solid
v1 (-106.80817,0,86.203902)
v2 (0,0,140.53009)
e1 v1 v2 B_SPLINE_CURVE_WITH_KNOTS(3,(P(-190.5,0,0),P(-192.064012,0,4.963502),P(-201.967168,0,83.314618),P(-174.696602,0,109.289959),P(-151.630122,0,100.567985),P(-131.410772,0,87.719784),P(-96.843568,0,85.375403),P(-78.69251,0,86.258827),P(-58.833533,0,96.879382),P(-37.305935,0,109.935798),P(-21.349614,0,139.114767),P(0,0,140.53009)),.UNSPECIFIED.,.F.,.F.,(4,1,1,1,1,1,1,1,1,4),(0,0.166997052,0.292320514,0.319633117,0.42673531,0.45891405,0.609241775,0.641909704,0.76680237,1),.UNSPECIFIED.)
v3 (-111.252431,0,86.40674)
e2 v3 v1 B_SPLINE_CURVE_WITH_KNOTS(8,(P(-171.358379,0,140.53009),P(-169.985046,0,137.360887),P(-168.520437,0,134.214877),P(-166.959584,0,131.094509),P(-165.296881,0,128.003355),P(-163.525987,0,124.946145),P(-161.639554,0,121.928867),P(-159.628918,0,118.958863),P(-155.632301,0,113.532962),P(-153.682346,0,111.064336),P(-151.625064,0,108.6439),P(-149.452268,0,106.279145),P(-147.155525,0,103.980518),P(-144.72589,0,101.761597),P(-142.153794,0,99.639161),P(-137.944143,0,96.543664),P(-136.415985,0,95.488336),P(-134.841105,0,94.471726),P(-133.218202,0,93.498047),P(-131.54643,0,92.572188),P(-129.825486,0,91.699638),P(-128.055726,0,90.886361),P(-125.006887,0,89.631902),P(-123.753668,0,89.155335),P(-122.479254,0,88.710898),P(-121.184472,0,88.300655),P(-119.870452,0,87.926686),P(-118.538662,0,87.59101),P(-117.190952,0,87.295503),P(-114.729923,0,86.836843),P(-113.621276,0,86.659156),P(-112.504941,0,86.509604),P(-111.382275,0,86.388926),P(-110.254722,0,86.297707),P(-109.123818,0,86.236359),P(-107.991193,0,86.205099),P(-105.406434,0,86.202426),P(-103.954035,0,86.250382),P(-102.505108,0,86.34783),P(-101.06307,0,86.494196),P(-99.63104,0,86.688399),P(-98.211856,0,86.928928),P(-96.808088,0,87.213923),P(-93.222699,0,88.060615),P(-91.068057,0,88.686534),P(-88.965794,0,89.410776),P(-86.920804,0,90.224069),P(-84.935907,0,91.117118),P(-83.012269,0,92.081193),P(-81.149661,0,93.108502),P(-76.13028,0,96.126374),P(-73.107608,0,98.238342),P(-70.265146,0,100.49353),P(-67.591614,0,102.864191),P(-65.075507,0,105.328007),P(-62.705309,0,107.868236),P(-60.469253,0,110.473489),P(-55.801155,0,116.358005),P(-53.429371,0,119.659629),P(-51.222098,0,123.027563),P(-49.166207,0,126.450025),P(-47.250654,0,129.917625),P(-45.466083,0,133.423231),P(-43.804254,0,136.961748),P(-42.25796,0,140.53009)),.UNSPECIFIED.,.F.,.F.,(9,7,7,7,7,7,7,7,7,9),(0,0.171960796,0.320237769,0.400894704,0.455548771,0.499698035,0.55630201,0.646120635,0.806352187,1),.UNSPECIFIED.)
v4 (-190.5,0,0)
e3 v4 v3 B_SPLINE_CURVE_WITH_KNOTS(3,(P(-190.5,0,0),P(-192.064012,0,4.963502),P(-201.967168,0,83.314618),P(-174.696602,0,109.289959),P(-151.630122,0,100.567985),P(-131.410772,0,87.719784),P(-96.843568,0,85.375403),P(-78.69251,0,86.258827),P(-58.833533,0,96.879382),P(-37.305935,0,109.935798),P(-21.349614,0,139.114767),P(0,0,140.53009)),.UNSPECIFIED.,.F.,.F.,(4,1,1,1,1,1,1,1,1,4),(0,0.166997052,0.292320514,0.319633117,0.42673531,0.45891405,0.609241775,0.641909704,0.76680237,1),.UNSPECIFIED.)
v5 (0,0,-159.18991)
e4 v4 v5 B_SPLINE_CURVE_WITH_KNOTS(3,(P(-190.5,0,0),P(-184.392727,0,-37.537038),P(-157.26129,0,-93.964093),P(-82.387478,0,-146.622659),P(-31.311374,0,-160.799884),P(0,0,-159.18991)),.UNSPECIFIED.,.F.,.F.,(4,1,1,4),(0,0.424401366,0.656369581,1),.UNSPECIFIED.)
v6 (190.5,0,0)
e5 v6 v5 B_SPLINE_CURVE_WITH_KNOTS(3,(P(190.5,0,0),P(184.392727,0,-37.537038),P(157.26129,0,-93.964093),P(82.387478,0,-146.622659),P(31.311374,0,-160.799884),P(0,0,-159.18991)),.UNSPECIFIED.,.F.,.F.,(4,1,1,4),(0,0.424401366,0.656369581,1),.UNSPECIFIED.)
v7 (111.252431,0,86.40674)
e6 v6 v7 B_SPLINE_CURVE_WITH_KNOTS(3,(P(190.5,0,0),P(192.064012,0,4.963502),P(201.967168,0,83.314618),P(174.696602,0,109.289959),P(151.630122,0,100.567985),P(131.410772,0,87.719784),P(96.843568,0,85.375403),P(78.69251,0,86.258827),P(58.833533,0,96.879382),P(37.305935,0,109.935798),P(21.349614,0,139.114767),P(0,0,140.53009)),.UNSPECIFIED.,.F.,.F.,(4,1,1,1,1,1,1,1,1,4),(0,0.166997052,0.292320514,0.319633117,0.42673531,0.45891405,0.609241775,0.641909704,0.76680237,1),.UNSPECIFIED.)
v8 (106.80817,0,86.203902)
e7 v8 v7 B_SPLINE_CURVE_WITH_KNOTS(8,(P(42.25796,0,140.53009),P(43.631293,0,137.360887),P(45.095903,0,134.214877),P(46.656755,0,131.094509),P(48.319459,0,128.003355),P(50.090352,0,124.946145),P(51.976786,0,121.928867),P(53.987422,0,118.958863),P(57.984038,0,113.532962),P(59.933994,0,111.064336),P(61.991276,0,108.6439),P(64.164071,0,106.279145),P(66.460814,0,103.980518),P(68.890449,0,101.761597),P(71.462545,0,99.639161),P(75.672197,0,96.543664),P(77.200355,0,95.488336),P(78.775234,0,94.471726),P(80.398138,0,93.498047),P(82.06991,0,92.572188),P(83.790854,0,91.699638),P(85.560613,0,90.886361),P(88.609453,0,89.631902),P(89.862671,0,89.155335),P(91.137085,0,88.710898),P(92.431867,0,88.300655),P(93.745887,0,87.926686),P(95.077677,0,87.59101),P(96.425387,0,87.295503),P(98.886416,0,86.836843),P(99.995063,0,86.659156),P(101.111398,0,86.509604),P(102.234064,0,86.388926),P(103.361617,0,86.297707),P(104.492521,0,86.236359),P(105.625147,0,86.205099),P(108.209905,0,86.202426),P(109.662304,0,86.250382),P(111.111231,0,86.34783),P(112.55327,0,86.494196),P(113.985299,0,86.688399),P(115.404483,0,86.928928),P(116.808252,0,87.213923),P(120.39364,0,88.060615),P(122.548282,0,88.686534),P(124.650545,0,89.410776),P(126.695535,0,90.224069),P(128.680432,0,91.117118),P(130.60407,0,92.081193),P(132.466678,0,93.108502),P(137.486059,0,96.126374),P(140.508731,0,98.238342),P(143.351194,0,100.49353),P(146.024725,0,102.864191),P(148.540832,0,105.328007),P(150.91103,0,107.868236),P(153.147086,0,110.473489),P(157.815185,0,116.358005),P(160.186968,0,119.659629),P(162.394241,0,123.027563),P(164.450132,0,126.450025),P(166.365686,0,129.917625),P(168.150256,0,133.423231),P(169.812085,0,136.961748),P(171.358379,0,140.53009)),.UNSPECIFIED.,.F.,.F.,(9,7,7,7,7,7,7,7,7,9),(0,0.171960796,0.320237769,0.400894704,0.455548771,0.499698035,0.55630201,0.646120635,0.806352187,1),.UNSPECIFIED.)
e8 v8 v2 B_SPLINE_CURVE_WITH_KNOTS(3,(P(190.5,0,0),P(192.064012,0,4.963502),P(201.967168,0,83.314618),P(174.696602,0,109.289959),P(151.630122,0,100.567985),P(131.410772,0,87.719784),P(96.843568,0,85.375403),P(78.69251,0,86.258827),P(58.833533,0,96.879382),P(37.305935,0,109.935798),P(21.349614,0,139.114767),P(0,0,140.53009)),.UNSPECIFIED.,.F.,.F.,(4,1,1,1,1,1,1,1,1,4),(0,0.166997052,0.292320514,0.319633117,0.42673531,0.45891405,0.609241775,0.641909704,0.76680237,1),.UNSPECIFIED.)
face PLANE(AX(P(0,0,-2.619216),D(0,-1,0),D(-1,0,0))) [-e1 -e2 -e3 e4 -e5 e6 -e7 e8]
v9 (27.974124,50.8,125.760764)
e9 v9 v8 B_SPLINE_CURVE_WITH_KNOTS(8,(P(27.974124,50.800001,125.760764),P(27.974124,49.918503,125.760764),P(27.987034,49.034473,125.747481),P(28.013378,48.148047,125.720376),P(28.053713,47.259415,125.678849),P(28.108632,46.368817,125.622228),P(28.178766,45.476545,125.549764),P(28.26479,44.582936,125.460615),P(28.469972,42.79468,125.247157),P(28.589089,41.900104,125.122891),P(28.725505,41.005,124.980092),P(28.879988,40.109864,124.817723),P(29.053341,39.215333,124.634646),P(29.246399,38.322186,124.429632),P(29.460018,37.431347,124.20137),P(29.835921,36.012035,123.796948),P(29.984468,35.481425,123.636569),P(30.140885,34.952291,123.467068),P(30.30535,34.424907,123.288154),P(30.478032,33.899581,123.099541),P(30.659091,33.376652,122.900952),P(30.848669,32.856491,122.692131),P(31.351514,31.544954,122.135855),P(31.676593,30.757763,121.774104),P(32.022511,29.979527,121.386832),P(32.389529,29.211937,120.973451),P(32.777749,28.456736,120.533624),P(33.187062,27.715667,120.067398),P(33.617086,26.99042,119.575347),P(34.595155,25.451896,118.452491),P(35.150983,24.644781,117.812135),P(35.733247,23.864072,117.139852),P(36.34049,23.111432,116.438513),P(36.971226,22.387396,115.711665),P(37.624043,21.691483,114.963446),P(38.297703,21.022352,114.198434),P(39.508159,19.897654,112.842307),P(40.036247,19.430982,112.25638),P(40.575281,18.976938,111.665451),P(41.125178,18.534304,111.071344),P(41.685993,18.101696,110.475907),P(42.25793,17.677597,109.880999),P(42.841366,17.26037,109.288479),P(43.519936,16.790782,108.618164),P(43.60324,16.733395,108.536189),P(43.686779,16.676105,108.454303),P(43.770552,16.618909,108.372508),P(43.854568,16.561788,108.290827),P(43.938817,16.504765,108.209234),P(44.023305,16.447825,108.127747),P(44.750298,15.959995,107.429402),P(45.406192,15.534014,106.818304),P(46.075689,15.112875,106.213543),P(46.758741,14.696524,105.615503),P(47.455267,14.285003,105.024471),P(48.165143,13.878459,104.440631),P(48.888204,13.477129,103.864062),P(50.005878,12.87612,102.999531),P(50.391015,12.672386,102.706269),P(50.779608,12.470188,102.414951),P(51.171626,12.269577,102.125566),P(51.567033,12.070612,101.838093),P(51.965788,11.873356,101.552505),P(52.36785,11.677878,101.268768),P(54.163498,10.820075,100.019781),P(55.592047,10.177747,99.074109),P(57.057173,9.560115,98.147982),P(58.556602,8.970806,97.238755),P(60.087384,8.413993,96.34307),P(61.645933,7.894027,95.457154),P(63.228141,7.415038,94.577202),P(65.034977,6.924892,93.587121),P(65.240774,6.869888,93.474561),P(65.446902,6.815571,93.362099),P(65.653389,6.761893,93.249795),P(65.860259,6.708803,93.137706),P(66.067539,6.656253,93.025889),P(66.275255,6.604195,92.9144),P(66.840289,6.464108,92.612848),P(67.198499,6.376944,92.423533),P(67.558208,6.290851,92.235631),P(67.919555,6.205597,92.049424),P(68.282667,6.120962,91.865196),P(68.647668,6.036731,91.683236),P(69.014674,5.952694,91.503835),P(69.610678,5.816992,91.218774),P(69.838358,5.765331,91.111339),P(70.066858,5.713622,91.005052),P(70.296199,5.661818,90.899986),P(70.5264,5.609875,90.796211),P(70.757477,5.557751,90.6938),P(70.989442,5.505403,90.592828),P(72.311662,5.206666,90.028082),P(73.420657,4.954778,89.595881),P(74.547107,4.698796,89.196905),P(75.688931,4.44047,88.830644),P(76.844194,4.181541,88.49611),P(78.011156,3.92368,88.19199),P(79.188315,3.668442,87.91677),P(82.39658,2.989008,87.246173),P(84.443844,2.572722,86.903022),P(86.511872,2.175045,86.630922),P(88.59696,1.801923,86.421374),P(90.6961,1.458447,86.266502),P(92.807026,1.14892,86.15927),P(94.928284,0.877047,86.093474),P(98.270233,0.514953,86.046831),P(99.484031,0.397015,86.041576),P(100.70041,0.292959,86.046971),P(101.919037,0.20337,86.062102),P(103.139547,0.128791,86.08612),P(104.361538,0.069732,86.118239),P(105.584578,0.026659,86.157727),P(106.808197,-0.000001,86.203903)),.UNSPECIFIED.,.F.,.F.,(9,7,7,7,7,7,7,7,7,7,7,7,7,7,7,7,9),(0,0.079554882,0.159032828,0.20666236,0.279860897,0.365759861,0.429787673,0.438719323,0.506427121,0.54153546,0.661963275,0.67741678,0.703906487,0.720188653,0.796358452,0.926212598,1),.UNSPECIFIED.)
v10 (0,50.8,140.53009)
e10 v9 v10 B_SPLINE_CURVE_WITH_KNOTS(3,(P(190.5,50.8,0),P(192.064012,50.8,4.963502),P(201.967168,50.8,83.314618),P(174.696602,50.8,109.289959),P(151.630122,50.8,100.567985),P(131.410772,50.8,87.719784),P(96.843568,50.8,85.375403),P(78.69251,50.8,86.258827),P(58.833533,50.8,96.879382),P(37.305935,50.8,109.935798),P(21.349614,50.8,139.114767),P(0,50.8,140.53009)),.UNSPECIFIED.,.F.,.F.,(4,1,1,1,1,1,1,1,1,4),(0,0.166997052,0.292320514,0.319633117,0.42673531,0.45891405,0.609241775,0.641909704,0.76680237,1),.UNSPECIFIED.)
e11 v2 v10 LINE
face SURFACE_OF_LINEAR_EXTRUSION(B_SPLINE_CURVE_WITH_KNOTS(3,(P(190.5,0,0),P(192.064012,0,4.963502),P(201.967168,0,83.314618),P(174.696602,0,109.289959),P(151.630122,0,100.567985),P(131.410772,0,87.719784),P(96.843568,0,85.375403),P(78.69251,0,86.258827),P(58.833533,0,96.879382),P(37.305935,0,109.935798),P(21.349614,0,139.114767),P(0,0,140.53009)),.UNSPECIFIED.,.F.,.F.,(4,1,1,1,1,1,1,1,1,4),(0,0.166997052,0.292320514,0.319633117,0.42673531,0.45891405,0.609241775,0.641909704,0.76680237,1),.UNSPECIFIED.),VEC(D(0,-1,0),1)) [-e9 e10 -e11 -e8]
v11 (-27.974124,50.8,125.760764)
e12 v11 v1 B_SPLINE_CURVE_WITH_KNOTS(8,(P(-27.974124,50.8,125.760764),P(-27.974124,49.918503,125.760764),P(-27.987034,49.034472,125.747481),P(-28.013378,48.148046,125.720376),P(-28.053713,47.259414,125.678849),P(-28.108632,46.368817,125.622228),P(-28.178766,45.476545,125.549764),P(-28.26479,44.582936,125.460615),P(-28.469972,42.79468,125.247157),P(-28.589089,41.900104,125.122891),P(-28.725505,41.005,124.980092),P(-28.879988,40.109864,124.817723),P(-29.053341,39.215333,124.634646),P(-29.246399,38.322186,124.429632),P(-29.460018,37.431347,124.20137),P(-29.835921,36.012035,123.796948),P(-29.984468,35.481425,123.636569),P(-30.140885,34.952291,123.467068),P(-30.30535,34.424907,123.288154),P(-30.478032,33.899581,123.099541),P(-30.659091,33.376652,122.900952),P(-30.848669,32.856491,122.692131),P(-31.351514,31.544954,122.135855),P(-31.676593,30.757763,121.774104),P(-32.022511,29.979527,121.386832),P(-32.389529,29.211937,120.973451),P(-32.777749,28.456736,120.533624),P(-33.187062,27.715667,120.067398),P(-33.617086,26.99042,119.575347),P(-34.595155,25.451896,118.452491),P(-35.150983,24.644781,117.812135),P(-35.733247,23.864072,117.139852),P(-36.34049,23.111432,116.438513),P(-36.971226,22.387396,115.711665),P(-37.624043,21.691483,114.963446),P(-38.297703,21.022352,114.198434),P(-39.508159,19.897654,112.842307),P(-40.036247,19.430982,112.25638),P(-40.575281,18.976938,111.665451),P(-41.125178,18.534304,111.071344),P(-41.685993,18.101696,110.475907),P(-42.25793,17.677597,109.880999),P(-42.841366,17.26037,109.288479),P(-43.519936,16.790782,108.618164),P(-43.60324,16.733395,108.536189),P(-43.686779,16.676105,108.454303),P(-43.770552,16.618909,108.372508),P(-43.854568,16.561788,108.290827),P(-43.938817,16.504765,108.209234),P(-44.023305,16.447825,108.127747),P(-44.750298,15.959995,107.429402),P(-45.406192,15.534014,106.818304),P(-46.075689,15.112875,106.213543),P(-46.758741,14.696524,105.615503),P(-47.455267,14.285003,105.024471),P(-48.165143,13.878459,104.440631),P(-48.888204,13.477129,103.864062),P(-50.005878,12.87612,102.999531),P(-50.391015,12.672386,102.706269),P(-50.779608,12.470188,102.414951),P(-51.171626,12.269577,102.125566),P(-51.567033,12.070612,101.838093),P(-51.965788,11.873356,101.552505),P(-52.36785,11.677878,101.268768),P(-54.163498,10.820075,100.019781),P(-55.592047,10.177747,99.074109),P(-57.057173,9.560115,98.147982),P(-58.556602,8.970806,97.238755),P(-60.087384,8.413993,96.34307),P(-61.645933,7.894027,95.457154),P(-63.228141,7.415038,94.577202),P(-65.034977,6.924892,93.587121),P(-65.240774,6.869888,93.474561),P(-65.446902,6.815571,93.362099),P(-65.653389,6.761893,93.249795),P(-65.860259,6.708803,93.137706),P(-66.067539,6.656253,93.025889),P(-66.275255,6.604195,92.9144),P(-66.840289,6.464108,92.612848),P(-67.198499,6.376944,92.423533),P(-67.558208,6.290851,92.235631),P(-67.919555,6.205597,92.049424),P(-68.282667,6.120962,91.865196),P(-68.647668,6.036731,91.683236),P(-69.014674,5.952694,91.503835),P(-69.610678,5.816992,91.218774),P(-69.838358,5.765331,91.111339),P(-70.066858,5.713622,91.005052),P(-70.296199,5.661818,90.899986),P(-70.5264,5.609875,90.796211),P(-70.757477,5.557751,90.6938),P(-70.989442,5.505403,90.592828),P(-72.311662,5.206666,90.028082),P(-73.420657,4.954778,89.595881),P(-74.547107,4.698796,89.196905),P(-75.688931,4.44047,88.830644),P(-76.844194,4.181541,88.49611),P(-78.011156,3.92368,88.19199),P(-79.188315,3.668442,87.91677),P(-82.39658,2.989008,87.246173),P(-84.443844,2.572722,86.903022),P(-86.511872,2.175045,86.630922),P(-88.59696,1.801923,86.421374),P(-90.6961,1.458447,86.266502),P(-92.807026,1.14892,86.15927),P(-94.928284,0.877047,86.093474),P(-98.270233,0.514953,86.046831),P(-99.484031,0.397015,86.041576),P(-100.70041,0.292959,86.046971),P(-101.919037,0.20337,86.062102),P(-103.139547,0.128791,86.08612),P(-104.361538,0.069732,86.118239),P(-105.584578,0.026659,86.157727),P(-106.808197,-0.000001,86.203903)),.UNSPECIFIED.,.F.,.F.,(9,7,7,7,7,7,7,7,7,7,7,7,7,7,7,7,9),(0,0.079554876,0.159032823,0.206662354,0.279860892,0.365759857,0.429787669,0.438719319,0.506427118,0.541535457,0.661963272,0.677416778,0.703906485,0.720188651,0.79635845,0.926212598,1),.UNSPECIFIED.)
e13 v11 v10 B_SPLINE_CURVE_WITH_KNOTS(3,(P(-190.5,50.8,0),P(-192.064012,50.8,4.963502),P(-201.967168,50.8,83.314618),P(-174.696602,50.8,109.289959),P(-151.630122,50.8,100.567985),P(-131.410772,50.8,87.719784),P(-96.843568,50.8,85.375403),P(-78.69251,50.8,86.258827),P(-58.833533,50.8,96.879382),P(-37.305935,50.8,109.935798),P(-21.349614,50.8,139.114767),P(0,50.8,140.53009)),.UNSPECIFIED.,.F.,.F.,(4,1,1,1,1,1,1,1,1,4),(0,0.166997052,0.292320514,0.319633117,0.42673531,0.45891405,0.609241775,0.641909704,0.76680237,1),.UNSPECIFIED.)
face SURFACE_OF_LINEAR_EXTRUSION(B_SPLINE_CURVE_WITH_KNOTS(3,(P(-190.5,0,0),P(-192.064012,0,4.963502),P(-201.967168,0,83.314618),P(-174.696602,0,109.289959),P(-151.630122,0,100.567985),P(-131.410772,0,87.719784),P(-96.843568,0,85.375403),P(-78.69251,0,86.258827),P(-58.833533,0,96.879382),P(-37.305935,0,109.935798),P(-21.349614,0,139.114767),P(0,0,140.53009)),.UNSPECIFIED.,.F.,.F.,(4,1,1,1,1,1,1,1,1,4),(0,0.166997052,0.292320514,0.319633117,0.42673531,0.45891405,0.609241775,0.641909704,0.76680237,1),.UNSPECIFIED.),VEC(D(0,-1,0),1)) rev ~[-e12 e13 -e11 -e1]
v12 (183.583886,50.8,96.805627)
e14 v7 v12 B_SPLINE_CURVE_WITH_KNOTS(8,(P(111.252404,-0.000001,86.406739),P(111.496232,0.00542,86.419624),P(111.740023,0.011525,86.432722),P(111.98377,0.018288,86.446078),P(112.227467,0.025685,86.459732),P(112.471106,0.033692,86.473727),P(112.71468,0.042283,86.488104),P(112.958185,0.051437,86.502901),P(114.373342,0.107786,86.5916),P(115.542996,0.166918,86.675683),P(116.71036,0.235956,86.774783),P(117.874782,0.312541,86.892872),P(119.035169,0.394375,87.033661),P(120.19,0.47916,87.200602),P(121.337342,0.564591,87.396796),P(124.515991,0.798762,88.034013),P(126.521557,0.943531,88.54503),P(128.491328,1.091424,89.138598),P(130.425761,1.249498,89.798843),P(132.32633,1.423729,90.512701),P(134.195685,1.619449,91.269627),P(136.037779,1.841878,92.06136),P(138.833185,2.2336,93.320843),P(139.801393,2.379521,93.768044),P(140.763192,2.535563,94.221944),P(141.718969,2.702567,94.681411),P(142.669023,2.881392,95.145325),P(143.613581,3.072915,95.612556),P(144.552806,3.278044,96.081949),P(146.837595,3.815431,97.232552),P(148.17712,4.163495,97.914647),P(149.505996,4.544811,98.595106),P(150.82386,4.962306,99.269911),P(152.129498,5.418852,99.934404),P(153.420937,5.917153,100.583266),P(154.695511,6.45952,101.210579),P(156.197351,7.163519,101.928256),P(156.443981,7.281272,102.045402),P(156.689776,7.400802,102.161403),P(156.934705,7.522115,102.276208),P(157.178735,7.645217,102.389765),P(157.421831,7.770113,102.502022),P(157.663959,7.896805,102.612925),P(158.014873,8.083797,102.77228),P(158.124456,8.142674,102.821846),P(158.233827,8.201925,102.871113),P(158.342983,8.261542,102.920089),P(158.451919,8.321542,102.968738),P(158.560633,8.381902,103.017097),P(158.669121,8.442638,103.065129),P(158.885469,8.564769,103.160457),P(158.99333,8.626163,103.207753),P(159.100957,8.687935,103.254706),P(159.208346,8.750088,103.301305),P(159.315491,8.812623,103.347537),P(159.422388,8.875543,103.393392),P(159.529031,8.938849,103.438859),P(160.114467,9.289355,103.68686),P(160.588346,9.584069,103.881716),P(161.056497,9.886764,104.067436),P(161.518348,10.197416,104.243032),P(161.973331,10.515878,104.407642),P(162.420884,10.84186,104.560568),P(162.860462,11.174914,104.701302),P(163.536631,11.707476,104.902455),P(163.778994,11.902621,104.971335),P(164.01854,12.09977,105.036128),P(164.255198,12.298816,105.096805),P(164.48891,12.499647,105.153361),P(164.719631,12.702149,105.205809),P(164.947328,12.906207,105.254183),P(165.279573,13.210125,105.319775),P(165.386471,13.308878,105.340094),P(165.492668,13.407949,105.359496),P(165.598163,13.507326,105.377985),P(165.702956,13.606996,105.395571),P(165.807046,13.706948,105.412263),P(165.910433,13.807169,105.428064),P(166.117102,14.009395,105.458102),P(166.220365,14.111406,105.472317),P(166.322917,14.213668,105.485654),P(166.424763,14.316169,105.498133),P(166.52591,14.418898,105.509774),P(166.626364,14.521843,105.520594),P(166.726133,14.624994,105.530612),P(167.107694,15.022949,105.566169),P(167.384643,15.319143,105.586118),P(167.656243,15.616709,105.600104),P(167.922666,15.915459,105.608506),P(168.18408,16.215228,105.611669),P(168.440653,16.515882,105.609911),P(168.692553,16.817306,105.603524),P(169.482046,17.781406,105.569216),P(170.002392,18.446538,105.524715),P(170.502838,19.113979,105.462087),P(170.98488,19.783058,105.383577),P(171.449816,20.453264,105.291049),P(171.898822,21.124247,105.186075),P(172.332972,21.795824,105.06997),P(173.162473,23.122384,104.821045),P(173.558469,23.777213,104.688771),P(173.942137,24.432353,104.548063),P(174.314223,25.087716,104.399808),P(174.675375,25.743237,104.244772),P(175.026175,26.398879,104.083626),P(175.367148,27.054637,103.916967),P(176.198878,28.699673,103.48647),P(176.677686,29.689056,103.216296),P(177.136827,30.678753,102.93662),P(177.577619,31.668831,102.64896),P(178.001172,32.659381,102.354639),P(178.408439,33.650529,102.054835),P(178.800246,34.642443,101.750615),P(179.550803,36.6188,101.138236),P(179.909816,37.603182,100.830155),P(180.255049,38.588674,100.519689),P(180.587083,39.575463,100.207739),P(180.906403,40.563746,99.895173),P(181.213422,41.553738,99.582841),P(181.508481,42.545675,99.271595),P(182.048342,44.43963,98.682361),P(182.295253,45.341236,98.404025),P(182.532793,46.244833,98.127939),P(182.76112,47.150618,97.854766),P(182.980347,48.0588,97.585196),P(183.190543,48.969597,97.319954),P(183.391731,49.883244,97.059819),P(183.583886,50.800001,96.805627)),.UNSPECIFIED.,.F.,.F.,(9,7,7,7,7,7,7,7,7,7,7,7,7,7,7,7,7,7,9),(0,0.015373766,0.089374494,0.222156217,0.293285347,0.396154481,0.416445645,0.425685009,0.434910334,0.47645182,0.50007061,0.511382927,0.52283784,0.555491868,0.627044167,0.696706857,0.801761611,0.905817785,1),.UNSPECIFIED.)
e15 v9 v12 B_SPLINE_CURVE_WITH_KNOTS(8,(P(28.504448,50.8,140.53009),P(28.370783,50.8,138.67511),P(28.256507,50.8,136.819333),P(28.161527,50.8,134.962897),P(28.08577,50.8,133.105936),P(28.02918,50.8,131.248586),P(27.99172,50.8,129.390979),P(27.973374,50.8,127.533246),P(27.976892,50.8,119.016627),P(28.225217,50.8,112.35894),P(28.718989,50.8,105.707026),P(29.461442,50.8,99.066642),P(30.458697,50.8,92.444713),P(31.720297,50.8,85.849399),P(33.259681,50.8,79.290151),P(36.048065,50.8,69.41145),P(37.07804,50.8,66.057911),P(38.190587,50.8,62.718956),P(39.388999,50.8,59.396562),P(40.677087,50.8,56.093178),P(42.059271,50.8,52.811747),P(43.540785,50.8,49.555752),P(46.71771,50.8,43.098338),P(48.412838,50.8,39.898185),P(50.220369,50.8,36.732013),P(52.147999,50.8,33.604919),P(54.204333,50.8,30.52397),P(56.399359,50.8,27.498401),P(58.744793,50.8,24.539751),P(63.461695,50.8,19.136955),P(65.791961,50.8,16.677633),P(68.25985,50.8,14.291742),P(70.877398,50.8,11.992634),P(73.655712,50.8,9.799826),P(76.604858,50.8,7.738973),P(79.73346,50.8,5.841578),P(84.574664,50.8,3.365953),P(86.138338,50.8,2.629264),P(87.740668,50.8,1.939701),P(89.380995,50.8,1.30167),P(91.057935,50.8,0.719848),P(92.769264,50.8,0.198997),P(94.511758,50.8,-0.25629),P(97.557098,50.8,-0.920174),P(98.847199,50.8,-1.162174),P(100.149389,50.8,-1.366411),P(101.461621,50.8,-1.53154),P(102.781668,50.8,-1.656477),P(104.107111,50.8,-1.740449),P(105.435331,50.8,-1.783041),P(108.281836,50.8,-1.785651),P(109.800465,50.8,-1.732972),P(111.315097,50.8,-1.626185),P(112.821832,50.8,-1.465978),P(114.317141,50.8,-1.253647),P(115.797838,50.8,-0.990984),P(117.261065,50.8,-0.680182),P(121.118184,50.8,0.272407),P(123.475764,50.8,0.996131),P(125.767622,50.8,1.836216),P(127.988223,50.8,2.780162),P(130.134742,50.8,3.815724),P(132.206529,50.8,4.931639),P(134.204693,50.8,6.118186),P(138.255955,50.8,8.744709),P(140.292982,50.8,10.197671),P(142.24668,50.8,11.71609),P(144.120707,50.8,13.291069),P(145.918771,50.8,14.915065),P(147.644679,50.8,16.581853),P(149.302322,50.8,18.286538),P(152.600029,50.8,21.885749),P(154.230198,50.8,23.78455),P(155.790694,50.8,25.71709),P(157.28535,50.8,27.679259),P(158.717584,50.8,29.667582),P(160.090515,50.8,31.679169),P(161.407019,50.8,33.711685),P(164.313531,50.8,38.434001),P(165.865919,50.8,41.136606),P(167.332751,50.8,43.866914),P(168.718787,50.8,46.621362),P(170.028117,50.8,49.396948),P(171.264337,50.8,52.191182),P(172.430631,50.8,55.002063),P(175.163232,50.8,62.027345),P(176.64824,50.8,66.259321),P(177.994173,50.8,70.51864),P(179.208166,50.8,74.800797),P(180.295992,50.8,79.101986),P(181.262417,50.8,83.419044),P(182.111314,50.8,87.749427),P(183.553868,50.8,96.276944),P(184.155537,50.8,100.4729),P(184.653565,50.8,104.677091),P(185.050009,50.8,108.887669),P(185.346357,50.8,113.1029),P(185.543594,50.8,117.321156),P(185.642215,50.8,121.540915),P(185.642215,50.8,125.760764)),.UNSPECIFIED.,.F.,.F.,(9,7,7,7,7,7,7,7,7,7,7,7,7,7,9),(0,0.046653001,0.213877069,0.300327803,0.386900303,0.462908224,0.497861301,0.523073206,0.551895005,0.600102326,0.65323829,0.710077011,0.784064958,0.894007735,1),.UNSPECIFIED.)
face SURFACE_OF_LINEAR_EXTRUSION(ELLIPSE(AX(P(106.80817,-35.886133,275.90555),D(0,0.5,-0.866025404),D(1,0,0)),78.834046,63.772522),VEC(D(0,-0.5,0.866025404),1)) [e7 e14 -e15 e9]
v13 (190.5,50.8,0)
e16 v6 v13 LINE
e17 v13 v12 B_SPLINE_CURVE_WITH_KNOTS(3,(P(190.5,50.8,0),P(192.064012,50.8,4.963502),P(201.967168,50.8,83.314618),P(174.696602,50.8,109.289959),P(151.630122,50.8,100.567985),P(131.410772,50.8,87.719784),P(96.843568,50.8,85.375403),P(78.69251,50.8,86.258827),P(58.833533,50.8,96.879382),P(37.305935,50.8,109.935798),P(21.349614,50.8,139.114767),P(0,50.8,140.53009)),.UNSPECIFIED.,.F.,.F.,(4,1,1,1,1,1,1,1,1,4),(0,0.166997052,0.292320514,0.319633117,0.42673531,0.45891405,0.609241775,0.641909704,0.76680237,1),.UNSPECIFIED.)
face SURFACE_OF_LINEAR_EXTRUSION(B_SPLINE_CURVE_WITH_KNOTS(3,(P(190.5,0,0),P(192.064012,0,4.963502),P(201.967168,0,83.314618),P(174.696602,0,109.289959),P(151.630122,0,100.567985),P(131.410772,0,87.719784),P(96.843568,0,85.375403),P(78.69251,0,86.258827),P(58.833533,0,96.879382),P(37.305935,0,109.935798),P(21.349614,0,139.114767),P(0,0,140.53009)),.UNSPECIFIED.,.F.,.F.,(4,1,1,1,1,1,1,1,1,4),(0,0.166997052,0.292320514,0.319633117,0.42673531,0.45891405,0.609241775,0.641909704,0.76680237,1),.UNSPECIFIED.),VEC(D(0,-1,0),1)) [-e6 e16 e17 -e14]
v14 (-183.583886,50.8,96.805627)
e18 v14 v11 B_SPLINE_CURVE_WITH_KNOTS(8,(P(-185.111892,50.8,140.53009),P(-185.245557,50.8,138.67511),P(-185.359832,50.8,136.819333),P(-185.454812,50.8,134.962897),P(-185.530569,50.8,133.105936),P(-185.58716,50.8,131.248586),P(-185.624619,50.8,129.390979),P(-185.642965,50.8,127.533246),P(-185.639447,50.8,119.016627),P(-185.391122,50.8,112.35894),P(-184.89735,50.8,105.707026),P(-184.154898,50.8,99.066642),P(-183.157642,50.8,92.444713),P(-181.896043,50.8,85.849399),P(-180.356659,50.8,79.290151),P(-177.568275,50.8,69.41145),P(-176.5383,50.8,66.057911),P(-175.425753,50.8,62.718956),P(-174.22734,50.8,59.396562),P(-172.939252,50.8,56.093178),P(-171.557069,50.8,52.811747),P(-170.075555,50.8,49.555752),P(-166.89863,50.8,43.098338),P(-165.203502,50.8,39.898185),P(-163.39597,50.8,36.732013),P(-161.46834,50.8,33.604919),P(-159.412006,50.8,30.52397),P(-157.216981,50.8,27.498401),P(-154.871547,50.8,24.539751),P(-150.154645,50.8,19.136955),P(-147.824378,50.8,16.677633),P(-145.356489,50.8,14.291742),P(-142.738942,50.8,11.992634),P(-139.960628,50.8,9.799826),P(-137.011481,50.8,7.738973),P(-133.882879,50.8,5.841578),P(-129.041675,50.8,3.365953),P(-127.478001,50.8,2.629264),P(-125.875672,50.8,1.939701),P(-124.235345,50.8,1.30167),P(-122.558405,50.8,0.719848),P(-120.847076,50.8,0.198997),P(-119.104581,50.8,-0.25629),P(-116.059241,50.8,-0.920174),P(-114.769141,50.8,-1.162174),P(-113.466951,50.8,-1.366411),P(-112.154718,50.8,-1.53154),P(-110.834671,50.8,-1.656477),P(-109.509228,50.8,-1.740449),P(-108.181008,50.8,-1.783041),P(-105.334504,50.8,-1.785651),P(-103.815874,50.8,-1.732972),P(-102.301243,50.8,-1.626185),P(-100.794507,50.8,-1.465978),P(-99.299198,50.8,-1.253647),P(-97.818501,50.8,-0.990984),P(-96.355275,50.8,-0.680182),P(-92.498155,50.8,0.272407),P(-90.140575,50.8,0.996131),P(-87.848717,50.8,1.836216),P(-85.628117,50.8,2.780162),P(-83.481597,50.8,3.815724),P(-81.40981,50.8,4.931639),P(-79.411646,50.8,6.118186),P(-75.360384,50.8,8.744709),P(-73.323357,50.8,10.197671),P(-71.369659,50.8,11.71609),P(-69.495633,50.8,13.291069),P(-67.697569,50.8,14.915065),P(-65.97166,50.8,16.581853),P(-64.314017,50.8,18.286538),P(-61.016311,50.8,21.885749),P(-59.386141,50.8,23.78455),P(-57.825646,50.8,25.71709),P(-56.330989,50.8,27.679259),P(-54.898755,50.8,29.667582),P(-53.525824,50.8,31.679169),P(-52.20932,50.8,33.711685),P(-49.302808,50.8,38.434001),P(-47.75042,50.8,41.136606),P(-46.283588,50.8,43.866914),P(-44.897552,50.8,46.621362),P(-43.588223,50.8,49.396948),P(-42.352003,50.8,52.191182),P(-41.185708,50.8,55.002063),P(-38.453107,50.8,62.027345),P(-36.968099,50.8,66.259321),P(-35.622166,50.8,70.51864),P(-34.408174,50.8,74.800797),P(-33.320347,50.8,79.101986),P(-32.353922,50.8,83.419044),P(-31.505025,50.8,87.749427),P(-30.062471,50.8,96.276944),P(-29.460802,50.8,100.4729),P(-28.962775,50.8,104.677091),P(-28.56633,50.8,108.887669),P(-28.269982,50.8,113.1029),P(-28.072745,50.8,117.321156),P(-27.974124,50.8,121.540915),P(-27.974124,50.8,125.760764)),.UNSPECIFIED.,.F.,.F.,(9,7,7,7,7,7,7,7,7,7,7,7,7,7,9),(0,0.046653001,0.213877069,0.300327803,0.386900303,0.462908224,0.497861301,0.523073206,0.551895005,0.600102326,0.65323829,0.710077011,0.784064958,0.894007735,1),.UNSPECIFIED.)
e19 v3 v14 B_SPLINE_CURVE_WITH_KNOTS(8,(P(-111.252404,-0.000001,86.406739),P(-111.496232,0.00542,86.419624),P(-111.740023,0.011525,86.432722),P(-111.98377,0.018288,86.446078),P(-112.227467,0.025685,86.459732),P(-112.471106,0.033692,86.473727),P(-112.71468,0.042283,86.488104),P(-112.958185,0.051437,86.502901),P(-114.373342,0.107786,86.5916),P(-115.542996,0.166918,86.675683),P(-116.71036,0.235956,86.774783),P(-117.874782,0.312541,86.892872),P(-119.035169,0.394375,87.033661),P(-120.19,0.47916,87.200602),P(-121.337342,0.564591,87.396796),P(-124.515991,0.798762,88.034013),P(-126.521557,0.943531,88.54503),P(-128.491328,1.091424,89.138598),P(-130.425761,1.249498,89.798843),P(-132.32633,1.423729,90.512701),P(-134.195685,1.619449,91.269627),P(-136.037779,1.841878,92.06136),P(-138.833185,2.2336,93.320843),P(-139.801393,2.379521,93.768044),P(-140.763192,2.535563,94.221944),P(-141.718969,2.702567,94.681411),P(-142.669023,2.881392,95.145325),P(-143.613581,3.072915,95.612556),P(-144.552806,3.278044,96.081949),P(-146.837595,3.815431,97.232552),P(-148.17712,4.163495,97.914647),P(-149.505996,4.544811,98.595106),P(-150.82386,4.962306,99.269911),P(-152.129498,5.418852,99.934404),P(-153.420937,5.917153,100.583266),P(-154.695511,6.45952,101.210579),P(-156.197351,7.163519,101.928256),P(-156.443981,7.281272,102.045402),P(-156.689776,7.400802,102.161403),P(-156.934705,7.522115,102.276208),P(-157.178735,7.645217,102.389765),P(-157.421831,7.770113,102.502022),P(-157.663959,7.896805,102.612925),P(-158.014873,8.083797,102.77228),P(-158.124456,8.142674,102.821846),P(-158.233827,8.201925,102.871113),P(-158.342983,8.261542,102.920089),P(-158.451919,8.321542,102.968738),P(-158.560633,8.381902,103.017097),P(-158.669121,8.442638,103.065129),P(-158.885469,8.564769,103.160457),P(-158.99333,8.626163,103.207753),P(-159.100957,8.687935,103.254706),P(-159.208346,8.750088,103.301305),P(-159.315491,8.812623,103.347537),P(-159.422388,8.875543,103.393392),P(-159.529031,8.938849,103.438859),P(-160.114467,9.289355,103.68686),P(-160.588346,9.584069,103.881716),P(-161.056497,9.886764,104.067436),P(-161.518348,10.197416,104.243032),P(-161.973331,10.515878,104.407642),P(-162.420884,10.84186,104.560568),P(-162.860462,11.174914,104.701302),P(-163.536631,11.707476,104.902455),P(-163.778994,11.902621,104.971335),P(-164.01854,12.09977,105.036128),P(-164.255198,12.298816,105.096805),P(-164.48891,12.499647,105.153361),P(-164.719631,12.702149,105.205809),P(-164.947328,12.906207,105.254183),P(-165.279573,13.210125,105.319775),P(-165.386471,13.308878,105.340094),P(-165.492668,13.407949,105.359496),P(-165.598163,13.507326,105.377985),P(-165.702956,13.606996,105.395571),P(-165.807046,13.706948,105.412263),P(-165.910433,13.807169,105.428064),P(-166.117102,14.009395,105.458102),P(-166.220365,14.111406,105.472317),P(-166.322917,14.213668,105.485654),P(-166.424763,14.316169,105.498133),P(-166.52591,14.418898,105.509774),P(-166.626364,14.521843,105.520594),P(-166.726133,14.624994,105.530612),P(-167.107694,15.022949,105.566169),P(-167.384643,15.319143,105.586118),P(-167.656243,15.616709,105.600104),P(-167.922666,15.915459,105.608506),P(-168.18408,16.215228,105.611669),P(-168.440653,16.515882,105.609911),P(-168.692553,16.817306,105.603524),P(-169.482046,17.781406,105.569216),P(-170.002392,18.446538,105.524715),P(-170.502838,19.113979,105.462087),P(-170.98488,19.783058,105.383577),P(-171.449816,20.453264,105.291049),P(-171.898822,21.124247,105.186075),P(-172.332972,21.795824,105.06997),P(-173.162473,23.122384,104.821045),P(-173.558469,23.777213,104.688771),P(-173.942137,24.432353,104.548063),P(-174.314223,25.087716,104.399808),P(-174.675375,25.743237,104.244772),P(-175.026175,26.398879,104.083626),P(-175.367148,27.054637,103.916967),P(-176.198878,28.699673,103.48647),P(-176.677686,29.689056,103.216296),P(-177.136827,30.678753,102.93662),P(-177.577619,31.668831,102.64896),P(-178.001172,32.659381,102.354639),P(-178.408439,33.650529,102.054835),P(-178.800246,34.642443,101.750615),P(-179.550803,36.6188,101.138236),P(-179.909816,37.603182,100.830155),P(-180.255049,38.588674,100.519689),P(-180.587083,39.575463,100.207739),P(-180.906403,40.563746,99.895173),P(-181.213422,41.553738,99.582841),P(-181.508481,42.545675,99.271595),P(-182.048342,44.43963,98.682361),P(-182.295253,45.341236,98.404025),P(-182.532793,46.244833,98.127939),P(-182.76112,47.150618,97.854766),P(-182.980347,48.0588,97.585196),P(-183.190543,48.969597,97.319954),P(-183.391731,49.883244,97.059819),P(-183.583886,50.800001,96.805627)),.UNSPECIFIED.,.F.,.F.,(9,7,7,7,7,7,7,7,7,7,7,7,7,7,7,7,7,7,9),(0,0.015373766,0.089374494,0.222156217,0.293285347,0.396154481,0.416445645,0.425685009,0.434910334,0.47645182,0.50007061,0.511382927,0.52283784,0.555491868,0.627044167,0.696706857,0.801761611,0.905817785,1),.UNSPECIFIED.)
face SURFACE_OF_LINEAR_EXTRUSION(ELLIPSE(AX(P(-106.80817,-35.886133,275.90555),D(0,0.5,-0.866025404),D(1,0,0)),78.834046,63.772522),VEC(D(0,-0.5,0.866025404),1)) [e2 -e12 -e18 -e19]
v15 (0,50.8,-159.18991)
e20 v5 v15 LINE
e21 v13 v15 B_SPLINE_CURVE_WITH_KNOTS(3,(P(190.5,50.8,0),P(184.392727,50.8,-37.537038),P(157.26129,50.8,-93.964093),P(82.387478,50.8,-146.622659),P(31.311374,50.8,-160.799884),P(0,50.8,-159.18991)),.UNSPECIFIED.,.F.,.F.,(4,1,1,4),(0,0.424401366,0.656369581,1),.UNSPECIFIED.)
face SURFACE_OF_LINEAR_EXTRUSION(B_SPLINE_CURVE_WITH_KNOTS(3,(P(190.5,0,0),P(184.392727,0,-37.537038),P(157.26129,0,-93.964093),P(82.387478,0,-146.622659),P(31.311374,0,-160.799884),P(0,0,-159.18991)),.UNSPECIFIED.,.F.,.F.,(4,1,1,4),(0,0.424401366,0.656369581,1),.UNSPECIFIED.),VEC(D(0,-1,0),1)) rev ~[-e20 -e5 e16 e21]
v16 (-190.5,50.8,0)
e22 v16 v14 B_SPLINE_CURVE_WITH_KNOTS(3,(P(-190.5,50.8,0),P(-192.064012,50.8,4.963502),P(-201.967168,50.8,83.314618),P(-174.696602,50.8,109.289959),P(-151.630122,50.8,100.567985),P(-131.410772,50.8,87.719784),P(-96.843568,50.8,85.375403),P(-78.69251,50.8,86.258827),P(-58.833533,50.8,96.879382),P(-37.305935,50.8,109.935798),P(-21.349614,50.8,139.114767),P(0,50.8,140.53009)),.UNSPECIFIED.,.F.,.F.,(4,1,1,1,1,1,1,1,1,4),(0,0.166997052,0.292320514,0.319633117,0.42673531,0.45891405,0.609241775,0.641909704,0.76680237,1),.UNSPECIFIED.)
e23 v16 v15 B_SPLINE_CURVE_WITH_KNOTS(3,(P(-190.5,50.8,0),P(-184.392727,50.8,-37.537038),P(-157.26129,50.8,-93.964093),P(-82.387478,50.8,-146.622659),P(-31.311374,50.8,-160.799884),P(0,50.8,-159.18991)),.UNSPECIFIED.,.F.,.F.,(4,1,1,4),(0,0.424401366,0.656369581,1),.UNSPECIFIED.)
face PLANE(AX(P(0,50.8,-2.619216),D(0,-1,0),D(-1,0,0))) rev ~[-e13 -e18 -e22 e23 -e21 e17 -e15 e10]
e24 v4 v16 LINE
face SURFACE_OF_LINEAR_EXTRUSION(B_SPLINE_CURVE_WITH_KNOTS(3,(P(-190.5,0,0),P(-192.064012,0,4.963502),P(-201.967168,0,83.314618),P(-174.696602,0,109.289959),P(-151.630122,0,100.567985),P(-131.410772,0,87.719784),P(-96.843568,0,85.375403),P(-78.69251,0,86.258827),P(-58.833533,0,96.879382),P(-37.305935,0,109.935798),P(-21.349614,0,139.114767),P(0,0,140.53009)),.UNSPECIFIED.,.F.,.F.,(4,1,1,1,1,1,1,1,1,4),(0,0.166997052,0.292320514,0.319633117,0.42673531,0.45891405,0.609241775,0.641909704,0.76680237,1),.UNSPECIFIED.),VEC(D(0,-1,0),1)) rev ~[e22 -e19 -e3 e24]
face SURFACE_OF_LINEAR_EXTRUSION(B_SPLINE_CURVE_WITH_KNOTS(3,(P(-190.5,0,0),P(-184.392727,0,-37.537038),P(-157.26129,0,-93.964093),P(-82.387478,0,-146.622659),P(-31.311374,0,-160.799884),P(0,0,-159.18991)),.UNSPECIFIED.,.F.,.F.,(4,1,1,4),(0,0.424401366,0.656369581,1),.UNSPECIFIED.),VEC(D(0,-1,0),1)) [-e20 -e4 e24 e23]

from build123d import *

# Parameters (mm, degrees)
BOSS_EXTRUDE1_DEPTH     = 50.8
CUT_EXTRUDE1_DEPTH      = 260.287236955
CUT_EXTRUDE1_DEPTH_BACK = 260.287236955
SKETCH6_RX              = 78.834045808
SKETCH6_RY              = 63.772521642


with BuildPart() as part:
    # Sketch3 → Boss-Extrude1 (new body)
    with BuildSketch(Plane(origin=(0, 0, 0), x_dir=(1, 0, 0), z_dir=(0, 1, 0))):
        with BuildLine():
            add(Edge.make_bspline(
                [(-190.5, 0), (-184.392726562, 37.537038237), (-157.261289847, 93.964093485), (-82.387478202, 146.622658841), (-31.311374143, 160.799884185), (0, 159.189909928)],
                knots=[0, 0, 0, 0, 0.424401366, 0.656369581, 1, 1, 1, 1], degree=3))
            add(Edge.make_bspline(
                [(190.5, 0), (184.392726562, 37.537038237), (157.261289847, 93.964093485), (82.387478202, 146.622658841), (31.311374143, 160.799884185), (0, 159.189909928)],
                knots=[0, 0, 0, 0, 0.424401366, 0.656369581, 1, 1, 1, 1], degree=3))
            add(Edge.make_bspline(
                [(190.5, 0), (192.064011793, -4.963501926), (201.967167766, -83.314618311), (174.696602041, -109.289958804), (151.630121659, -100.567984898), (131.410771519, -87.719783961), (96.843567628, -85.375403377), (78.692510144, -86.25882742), (58.833533072, -96.87938247), (37.30593461, -109.935798162), (21.349613946, -139.114767457), (0, -140.530090072)],
                knots=[0, 0, 0, 0, 0.166997052, 0.292320514, 0.319633117, 0.42673531, 0.45891405, 0.609241775, 0.641909704, 0.76680237, 1, 1, 1, 1], degree=3))
            add(Edge.make_bspline(
                [(-190.5, 0), (-192.064011793, -4.963501926), (-201.967167766, -83.314618311), (-174.696602041, -109.289958804), (-151.630121659, -100.567984898), (-131.410771519, -87.719783961), (-96.843567628, -85.375403377), (-78.692510144, -86.25882742), (-58.833533072, -96.87938247), (-37.30593461, -109.935798162), (-21.349613946, -139.114767457), (0, -140.530090072)],
                knots=[0, 0, 0, 0, 0.166997052, 0.292320514, 0.319633117, 0.42673531, 0.45891405, 0.609241775, 0.641909704, 0.76680237, 1, 1, 1, 1], degree=3))
        make_face()
    extrude(amount=BOSS_EXTRUDE1_DEPTH)

    # Sketch6 → Cut-Extrude1 (cut, two sides: drawn at the far end of the back side and taken through both)
    with BuildSketch(Plane(origin=(0, 24.086508497, 9.976958489), x_dir=(-1, 0, 0), z_dir=(0, 0.5000000000000041, -0.8660254037844364)).offset(-CUT_EXTRUDE1_DEPTH_BACK)):
        with Locations(Location((-106.808169671, 81.026464977), (0, 0, -180))):
            Ellipse(SKETCH6_RX, SKETCH6_RY)
        with Locations(Location((106.808169671, 81.026464977), (0, 0, 180))):
            Ellipse(SKETCH6_RX, SKETCH6_RY)
    extrude(amount=CUT_EXTRUDE1_DEPTH + CUT_EXTRUDE1_DEPTH_BACK, mode=Mode.SUBTRACT)


solid = part.part
